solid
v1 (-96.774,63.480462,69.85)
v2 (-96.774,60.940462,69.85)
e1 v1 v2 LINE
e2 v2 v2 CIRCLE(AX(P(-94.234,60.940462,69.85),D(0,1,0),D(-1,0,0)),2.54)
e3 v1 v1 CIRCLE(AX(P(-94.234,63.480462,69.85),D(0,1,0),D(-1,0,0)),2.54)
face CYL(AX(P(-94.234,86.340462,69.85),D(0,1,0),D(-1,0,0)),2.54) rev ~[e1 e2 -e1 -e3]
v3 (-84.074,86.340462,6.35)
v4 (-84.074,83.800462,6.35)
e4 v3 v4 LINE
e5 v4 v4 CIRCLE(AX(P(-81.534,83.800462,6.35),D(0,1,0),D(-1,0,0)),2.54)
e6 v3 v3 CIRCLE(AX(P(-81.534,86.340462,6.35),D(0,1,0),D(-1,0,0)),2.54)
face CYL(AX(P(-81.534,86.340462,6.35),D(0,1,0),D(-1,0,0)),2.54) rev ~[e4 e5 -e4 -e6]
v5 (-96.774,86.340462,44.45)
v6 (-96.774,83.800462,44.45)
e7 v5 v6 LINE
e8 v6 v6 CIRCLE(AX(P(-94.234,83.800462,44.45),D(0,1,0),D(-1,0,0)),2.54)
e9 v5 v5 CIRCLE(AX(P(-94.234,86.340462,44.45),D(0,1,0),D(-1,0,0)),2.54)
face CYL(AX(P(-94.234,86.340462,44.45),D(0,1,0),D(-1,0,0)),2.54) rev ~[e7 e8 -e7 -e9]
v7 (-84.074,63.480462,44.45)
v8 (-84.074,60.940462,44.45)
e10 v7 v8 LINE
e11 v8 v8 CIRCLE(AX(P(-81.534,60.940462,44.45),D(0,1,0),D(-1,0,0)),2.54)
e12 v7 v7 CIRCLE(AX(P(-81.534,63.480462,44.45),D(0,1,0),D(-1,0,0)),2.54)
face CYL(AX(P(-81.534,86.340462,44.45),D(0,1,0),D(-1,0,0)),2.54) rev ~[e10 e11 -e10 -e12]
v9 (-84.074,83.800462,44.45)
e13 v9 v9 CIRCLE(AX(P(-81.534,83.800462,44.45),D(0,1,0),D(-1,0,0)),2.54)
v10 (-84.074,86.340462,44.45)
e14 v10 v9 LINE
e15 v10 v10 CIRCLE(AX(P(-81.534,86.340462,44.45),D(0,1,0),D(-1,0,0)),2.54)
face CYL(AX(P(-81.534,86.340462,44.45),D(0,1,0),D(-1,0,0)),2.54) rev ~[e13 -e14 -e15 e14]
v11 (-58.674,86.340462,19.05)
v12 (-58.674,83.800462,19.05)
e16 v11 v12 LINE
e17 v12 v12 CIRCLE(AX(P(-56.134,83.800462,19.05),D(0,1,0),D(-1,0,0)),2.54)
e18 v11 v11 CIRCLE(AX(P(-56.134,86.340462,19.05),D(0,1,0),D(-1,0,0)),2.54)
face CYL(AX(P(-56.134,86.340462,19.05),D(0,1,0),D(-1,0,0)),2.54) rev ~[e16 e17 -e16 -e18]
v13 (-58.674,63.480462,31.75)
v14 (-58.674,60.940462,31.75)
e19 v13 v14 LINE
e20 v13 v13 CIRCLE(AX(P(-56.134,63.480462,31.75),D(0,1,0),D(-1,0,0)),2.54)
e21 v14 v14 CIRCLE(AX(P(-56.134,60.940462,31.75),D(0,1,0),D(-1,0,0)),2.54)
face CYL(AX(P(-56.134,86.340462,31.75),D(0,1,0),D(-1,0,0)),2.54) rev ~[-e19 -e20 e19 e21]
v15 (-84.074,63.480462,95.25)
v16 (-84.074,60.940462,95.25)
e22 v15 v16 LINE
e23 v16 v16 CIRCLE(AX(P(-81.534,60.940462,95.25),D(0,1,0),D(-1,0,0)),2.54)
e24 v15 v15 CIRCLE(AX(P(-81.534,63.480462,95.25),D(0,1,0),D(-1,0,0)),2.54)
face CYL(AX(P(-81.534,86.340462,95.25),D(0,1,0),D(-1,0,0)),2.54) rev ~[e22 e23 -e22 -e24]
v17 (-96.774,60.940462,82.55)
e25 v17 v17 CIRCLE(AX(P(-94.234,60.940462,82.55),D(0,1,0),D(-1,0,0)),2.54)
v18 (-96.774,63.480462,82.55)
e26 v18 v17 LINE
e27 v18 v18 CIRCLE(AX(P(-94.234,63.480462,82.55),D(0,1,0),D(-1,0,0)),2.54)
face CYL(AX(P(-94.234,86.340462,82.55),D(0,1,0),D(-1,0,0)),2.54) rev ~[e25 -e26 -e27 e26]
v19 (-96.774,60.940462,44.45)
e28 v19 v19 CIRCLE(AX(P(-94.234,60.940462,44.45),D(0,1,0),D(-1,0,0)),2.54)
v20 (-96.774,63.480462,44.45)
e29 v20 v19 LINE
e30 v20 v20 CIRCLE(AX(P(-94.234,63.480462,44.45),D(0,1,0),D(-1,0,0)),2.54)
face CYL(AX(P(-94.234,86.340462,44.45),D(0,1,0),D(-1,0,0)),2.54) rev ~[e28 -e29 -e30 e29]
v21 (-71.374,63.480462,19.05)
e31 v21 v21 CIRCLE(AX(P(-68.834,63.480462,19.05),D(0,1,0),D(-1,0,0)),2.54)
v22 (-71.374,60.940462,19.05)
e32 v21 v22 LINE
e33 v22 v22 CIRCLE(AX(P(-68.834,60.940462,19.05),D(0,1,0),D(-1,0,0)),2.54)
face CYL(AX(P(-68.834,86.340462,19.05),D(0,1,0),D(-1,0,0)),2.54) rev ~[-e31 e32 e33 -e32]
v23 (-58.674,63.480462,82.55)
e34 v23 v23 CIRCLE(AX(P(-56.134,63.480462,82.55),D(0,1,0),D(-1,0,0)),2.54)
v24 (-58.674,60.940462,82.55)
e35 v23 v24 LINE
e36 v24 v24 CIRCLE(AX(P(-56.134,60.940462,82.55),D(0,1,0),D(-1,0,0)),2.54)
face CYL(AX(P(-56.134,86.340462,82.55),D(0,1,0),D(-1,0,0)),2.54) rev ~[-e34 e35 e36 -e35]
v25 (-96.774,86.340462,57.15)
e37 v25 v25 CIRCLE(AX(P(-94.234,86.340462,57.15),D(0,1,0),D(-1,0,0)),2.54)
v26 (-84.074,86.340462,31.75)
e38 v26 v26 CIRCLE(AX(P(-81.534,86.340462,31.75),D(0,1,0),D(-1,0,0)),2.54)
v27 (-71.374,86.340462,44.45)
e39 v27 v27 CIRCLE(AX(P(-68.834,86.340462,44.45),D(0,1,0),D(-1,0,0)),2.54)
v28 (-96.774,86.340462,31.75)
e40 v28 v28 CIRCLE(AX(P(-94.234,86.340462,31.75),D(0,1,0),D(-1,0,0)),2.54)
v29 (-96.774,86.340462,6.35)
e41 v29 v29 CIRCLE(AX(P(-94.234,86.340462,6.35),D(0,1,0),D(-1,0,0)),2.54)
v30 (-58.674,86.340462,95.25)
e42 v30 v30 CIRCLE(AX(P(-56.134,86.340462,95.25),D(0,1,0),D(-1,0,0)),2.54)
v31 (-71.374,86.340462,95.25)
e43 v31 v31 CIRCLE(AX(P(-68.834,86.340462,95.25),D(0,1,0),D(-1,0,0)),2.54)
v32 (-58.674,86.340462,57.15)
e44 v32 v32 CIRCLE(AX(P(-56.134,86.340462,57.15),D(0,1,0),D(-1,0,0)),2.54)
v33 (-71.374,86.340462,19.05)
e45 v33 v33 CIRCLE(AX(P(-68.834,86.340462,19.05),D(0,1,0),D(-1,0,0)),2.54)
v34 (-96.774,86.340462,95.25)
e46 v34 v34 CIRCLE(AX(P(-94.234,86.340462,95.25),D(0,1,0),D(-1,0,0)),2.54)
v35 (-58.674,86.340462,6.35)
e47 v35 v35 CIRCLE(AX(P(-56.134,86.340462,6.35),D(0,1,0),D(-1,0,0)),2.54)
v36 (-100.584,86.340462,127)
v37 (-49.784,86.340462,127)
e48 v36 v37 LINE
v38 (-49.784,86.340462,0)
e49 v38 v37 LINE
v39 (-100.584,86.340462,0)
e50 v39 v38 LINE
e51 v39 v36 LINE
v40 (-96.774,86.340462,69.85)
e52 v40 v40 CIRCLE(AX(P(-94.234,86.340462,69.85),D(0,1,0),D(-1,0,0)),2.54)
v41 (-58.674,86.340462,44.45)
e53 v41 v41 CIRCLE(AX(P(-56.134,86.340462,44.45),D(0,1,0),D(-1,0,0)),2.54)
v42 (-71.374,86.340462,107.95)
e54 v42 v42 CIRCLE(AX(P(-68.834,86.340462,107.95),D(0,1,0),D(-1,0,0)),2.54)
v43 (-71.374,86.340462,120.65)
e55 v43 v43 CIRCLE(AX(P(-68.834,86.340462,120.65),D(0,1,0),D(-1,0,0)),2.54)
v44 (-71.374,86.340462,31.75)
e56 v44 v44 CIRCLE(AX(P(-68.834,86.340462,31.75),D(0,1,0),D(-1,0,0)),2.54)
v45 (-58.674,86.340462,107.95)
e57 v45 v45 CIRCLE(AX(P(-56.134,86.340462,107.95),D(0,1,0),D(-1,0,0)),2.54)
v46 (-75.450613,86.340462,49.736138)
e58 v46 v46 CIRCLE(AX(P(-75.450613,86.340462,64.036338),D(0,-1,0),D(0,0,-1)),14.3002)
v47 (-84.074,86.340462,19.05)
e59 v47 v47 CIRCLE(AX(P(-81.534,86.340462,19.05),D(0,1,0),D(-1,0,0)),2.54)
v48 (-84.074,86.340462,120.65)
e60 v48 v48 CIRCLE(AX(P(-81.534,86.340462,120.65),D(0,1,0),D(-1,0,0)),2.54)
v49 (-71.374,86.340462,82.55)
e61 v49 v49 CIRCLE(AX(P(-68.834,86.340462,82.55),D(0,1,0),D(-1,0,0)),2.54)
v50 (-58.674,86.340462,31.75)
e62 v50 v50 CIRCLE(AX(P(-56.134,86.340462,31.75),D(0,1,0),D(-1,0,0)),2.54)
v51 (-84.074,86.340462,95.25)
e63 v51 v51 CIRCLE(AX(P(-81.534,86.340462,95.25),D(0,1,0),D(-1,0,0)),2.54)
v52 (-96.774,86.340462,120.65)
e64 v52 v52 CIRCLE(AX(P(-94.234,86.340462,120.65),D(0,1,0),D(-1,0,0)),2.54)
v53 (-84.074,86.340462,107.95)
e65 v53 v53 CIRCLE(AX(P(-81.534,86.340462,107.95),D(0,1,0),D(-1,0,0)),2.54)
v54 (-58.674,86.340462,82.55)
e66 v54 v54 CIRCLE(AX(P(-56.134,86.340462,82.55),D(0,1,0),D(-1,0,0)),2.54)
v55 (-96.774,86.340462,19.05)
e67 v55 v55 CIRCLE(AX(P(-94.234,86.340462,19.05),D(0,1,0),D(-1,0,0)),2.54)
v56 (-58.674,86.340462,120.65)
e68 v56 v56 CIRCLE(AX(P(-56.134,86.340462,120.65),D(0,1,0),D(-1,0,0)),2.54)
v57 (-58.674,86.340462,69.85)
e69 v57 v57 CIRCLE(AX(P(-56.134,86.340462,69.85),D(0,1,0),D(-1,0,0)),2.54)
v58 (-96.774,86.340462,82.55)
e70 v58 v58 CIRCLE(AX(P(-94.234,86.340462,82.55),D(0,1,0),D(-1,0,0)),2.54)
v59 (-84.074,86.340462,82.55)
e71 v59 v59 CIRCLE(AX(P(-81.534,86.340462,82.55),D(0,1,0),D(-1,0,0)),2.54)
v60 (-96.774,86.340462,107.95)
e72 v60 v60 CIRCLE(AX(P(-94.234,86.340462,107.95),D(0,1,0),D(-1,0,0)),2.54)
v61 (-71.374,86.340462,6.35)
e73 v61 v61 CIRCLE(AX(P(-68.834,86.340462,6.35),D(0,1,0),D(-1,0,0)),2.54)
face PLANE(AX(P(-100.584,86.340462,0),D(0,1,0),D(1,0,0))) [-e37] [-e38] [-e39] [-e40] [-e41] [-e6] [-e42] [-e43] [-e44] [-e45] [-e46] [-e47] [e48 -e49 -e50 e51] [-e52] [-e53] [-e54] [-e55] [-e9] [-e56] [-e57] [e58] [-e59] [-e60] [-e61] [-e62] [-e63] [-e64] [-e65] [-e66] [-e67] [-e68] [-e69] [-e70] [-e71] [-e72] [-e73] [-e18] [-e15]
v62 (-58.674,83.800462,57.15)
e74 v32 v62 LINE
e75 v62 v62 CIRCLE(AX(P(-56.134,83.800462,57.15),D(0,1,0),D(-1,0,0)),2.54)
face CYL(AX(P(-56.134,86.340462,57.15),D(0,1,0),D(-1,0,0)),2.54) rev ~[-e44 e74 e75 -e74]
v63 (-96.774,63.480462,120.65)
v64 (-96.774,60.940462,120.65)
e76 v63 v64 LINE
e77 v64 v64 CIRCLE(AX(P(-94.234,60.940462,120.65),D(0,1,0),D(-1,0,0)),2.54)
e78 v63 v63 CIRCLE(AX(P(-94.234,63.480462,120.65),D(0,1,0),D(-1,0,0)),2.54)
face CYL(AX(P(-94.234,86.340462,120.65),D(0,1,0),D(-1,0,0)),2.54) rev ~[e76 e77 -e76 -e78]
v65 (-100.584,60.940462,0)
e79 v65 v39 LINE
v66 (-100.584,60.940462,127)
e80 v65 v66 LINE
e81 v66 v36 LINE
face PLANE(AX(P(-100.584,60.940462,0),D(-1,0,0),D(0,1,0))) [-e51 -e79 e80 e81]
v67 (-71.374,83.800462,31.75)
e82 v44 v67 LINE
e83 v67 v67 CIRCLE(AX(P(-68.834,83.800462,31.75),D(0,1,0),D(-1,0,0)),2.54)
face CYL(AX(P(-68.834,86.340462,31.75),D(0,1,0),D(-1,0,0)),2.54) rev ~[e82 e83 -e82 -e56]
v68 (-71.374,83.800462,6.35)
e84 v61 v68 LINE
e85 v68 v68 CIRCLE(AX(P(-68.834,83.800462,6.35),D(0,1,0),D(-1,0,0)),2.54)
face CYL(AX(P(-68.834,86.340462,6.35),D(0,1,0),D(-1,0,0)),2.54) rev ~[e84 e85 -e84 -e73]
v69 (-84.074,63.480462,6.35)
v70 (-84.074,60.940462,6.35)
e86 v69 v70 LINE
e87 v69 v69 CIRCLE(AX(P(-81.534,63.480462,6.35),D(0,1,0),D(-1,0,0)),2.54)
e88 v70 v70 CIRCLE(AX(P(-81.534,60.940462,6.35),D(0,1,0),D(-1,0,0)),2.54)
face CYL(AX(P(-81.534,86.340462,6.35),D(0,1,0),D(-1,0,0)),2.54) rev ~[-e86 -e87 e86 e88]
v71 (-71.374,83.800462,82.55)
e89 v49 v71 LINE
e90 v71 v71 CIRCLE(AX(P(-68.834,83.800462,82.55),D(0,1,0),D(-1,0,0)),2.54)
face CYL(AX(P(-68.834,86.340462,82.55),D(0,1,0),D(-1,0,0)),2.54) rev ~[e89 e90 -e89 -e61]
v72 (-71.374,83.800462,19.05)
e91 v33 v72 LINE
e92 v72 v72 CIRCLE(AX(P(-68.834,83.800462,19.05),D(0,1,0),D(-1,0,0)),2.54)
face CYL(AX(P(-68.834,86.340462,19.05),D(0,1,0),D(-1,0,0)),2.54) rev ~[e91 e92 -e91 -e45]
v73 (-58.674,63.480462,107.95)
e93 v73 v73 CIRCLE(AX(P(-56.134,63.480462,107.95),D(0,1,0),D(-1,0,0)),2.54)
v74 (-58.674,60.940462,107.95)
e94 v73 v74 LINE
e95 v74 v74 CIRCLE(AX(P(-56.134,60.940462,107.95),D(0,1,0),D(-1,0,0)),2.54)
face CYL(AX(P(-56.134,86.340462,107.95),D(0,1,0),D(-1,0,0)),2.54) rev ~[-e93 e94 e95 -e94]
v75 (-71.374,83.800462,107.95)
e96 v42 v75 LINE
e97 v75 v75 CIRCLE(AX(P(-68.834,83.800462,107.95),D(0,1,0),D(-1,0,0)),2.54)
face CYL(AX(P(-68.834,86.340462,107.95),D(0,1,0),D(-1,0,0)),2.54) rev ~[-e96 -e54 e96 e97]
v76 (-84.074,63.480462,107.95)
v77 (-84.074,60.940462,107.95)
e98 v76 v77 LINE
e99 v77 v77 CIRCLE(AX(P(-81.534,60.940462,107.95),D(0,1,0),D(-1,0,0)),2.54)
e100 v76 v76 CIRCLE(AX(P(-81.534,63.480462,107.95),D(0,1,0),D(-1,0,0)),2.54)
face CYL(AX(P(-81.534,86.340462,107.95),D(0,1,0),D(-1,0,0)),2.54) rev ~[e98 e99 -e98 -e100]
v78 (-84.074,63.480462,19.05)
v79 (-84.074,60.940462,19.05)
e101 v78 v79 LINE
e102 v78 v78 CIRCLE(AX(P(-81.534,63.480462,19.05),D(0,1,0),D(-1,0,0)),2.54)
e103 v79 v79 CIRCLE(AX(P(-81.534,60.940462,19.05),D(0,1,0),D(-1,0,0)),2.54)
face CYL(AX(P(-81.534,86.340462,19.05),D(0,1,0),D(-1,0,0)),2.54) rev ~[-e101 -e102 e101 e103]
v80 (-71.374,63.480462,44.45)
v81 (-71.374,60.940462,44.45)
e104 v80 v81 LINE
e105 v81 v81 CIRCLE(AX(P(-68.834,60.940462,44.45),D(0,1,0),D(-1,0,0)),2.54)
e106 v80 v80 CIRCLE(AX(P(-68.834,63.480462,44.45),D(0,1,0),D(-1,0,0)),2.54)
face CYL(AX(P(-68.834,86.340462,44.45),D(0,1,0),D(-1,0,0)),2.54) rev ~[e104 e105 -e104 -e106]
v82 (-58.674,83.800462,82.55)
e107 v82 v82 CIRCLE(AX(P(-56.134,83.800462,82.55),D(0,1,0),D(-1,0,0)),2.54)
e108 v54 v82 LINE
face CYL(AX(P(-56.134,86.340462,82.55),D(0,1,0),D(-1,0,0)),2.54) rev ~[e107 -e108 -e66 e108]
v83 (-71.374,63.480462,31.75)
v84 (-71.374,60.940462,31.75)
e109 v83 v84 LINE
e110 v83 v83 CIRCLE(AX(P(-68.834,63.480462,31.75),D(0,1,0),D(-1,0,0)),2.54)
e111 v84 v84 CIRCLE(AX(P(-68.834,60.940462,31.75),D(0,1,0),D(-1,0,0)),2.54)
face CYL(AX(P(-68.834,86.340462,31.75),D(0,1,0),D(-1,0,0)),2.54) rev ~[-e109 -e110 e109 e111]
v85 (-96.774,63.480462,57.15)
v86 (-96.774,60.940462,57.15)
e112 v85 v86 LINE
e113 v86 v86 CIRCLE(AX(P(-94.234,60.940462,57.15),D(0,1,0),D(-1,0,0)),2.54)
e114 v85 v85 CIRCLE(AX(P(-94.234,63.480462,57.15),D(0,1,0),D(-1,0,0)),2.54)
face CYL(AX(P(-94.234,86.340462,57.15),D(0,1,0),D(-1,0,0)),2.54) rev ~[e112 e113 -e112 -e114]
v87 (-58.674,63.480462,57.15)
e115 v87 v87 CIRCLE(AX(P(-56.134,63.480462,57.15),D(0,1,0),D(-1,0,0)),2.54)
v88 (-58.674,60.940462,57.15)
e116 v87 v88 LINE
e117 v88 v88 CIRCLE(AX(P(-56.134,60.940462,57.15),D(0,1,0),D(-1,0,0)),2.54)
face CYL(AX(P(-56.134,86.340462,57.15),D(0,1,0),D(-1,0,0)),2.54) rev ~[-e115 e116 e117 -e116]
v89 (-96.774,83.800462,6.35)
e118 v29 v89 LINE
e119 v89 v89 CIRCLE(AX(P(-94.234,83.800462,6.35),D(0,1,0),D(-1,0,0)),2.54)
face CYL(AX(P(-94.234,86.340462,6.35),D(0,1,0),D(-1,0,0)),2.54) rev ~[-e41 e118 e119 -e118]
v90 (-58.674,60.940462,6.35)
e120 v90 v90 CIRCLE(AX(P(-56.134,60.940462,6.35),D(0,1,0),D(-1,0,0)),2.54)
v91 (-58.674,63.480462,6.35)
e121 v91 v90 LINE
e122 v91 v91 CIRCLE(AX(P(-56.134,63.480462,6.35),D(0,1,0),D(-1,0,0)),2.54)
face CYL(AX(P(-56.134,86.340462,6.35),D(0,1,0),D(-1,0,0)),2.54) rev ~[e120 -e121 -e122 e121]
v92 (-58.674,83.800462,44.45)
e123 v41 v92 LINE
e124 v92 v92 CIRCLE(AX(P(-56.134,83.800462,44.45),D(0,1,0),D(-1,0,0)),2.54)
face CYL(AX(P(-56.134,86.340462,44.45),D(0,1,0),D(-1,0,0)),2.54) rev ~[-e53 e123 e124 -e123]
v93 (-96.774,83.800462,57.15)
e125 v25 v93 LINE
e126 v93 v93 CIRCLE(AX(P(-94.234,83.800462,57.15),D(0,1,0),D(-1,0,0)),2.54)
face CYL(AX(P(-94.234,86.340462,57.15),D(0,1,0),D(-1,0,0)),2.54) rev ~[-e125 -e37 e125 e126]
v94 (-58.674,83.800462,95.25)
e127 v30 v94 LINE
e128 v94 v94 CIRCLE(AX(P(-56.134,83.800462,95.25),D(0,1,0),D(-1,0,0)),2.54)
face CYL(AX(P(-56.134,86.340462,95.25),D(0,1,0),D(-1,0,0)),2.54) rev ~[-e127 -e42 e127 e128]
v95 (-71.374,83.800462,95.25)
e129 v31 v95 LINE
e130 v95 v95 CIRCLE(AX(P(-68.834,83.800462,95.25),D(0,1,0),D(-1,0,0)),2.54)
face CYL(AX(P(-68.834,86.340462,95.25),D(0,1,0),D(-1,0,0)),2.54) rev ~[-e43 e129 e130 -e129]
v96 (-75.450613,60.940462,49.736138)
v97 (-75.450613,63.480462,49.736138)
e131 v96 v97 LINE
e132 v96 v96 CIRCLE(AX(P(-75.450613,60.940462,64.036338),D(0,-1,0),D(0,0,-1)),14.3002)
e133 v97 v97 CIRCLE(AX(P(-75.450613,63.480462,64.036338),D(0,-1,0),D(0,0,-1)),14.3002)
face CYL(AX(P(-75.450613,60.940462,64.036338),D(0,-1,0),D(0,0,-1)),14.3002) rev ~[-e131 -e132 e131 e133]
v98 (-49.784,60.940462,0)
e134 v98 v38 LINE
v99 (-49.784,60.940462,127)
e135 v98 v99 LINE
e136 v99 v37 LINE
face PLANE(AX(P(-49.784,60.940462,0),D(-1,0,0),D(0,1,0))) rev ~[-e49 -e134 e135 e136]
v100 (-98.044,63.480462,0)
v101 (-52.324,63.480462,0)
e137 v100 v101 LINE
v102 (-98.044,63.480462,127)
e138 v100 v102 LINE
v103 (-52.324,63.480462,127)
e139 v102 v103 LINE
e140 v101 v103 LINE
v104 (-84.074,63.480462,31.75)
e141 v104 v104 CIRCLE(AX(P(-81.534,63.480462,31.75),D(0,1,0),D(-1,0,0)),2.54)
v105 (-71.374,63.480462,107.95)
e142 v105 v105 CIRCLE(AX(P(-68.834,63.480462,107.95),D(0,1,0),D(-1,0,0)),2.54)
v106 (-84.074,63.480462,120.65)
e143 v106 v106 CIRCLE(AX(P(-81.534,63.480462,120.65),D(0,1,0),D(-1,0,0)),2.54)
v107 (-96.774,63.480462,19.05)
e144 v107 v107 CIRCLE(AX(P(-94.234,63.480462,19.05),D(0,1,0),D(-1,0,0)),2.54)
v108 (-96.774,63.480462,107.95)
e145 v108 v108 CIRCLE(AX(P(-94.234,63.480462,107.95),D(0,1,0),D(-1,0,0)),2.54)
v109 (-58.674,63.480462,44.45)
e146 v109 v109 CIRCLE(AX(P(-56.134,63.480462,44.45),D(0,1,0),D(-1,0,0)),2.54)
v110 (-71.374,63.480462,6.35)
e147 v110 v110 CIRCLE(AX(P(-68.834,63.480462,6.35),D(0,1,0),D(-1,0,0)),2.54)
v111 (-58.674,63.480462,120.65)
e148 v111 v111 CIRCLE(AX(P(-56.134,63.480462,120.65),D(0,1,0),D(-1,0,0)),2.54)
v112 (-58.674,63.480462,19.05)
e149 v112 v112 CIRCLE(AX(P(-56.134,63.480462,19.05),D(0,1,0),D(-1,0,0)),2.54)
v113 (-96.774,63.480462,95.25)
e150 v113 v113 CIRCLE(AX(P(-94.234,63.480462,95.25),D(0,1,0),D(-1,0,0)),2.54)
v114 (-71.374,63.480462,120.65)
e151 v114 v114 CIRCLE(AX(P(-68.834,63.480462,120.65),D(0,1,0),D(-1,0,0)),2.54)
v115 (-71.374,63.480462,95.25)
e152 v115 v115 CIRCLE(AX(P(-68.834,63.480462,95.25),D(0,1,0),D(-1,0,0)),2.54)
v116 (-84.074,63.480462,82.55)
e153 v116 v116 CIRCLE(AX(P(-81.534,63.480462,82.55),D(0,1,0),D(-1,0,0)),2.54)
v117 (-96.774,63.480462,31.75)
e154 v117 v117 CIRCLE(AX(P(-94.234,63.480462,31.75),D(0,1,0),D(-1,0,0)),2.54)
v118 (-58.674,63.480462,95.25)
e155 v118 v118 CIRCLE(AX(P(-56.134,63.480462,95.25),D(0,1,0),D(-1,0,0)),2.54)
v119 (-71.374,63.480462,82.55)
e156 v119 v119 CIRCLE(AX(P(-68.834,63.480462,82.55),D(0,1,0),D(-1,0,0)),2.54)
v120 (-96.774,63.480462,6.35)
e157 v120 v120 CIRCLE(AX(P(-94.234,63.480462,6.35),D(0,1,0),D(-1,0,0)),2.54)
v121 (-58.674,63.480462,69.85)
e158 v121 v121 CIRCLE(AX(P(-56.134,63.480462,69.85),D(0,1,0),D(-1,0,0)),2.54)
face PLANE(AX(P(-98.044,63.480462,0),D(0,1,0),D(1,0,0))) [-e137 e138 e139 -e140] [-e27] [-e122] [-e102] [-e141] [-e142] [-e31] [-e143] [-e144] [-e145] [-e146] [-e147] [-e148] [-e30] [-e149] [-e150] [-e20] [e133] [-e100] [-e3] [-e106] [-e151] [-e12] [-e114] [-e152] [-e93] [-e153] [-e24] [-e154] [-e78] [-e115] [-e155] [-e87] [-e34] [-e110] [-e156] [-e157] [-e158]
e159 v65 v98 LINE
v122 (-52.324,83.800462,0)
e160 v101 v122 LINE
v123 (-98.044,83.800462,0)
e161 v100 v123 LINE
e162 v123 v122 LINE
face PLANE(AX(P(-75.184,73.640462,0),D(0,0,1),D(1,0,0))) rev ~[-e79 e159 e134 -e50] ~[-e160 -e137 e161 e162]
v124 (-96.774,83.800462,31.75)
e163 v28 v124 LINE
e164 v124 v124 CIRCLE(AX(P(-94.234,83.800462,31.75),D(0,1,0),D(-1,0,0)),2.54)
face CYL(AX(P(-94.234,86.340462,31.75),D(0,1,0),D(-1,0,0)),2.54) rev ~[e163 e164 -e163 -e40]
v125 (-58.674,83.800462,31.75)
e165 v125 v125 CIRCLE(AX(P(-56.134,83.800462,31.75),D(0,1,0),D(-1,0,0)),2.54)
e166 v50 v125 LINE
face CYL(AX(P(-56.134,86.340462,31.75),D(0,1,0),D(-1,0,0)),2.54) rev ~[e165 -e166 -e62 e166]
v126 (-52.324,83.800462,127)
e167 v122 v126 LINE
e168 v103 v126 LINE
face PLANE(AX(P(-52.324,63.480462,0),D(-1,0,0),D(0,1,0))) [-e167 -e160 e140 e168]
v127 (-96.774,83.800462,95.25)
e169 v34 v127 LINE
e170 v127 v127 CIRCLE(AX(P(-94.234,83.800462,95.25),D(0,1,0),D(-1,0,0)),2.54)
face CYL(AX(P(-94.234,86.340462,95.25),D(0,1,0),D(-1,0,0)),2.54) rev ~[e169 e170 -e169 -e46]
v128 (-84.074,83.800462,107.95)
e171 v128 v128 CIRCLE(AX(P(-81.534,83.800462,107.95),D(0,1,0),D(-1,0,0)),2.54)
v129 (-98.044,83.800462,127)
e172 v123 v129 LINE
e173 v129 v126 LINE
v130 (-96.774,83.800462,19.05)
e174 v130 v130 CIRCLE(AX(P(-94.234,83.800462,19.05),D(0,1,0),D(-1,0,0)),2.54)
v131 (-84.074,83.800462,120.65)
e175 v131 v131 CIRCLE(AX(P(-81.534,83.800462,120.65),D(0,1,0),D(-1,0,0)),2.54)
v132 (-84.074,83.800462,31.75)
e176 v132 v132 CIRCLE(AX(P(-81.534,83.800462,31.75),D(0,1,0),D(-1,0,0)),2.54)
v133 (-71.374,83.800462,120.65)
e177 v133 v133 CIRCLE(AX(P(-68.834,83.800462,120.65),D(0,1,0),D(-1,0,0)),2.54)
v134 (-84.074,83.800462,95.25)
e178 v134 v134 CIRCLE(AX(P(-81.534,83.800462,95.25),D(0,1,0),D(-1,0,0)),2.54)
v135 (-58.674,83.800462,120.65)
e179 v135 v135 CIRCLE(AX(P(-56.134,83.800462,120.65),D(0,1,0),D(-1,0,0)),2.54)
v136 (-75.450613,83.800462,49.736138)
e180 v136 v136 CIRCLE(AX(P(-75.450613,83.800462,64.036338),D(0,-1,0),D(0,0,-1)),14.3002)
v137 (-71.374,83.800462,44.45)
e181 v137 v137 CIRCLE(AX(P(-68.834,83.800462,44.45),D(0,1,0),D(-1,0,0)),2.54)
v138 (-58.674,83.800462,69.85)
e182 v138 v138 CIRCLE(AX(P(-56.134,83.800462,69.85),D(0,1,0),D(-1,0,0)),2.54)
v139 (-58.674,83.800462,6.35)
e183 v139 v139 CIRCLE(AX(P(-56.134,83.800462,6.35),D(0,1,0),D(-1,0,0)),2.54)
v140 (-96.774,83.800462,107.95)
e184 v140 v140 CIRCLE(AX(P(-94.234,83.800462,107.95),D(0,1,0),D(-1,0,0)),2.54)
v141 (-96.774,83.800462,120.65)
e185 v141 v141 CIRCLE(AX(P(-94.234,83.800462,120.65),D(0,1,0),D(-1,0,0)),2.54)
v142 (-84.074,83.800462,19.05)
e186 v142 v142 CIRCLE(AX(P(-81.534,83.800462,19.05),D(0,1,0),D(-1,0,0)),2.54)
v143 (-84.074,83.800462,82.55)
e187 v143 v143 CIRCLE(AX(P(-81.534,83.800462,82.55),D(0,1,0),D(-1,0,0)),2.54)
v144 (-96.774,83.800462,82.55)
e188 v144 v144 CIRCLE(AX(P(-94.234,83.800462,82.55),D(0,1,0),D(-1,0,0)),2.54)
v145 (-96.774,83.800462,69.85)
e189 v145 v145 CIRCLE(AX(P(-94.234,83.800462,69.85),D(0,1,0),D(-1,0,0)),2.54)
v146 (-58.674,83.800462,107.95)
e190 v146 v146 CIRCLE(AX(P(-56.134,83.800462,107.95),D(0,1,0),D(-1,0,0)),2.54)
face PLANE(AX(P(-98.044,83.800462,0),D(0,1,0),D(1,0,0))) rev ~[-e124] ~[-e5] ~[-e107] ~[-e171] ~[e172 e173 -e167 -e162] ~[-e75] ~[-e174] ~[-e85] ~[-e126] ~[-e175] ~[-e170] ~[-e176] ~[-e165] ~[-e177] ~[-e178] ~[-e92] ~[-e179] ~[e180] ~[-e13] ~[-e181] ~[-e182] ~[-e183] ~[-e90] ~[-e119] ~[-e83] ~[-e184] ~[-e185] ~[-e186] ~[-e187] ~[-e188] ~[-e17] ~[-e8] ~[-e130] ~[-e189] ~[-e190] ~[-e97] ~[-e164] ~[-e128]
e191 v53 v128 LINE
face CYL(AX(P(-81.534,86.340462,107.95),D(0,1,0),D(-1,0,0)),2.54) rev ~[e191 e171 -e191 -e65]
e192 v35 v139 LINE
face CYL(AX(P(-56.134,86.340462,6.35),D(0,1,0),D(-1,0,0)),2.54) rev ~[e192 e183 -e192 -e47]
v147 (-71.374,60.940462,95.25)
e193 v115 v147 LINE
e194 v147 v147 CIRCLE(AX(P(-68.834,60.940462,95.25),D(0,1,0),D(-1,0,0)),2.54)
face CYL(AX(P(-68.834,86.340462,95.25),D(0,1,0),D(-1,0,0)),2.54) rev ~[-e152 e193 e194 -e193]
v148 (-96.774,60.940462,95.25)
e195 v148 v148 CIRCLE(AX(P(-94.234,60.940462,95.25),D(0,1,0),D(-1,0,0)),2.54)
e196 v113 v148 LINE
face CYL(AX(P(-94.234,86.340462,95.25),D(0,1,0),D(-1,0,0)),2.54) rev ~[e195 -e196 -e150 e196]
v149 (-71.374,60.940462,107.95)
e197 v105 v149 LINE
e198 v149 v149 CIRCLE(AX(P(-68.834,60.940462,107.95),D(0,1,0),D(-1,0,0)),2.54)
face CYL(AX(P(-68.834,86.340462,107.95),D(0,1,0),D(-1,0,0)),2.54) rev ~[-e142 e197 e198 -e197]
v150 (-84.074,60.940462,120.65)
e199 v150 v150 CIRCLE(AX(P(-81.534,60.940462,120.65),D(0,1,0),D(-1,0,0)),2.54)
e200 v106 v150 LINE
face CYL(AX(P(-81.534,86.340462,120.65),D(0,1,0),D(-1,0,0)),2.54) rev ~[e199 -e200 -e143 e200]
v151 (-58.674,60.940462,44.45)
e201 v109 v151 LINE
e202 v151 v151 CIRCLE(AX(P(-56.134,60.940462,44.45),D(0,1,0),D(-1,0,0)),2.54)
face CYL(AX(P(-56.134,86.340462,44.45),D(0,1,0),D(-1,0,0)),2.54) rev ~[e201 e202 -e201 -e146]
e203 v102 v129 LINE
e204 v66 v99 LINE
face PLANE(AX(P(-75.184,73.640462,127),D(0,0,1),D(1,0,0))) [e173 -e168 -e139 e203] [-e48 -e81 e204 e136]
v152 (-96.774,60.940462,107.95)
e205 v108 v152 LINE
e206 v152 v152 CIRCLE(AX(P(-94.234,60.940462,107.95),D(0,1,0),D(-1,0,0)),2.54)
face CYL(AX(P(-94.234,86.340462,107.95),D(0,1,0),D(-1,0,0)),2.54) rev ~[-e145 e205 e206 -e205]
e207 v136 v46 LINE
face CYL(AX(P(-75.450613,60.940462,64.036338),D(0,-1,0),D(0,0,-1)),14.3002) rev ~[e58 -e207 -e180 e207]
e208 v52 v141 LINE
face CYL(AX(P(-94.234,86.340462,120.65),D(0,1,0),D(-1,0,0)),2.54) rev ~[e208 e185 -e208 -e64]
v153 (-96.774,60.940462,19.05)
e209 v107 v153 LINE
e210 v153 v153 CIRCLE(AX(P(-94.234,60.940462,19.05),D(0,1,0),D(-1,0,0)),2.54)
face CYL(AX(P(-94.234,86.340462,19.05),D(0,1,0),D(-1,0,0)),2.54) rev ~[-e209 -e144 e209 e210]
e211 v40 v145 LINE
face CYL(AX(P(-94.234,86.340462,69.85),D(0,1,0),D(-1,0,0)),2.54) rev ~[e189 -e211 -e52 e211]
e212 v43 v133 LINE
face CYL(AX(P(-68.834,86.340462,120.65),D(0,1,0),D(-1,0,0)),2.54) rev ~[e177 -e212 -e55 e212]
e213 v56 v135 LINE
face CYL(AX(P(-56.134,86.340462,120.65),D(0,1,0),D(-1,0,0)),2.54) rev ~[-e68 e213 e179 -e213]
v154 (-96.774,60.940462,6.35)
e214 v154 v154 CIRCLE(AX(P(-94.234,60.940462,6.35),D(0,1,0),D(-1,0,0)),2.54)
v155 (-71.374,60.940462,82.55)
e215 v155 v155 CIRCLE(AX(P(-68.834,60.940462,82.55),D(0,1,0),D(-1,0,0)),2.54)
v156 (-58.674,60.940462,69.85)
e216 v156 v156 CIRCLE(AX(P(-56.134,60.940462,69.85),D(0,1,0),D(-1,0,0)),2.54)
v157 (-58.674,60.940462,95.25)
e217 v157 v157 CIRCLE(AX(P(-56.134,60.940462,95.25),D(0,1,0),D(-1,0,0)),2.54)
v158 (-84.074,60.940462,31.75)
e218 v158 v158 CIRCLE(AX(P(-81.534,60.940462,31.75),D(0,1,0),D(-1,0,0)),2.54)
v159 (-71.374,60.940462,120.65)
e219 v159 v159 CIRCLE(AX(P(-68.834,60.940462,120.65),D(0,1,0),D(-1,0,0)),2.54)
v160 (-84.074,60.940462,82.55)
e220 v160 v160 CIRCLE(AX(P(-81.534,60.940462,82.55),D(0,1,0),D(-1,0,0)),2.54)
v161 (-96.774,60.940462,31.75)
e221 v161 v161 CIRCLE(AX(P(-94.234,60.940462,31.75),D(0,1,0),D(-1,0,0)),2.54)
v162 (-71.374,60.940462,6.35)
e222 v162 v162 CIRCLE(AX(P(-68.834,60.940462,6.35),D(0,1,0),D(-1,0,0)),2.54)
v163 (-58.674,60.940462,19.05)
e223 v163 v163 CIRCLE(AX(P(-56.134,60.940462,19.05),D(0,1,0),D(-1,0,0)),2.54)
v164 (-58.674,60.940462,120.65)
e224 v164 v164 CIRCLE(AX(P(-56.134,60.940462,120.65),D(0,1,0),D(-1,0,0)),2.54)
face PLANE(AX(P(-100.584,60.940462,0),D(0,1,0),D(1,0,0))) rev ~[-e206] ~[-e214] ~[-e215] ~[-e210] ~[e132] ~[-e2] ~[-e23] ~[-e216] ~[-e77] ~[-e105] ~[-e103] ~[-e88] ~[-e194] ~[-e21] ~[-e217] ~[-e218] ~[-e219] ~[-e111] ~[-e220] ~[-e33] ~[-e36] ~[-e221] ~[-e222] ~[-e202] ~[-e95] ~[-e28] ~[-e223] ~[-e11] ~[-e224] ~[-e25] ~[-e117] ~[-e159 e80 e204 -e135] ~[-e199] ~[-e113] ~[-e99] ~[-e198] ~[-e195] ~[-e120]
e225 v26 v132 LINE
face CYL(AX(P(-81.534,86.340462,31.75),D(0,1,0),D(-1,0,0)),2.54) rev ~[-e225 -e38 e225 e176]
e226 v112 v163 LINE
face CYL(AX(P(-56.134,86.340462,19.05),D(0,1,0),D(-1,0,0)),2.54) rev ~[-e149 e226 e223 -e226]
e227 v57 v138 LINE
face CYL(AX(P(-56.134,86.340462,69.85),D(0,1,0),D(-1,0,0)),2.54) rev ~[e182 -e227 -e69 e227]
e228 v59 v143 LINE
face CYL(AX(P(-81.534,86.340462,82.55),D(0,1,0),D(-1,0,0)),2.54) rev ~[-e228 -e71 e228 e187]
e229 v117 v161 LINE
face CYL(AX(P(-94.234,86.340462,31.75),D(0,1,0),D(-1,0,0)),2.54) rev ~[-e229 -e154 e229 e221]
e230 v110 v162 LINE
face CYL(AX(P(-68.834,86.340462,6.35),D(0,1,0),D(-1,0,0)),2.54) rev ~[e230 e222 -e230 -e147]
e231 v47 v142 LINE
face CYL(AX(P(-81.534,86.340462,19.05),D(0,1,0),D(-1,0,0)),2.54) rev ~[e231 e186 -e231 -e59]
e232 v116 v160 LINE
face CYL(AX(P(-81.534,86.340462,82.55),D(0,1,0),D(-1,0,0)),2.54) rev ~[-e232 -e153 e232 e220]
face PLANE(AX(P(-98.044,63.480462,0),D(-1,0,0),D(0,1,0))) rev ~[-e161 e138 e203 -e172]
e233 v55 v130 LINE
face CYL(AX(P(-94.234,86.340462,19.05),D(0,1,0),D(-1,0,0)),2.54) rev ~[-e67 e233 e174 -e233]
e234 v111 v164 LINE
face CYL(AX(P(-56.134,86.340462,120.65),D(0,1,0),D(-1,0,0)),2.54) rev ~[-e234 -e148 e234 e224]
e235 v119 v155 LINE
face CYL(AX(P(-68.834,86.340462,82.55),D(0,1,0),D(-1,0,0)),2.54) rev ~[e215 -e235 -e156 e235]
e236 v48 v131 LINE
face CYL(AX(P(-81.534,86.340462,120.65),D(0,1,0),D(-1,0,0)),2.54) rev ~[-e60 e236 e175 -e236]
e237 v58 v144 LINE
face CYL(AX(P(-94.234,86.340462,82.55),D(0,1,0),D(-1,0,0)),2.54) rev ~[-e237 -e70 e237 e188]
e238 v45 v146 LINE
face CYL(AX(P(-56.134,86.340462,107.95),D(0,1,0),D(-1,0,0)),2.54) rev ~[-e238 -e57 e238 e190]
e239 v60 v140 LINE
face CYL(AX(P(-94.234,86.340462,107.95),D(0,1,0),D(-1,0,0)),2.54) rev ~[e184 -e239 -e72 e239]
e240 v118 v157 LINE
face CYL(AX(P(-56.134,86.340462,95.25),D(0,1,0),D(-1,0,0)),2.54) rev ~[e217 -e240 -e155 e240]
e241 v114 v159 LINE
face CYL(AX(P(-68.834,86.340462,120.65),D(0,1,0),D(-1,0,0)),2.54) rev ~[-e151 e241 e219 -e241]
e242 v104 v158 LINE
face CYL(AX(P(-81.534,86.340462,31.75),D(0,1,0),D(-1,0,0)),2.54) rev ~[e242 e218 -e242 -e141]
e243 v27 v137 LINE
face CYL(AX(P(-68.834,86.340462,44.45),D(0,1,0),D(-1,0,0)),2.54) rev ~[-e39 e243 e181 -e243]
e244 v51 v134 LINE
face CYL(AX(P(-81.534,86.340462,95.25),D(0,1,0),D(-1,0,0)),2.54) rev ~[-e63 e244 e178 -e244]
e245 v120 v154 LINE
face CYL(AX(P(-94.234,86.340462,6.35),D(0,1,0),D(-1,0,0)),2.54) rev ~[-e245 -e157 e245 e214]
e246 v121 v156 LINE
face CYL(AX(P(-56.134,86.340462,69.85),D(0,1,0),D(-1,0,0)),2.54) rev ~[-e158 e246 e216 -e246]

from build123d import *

# Parameters (mm, degrees)
SKETCH1_W           = 50.8
SKETCH1_H           = 25.4
SKETCH1_W_2         = 45.72
SKETCH1_H_2         = 20.32
BOSS_EXTRUDE1_DEPTH = 127
SKETCH2_R           = 2.54
CUT_EXTRUDE1_DEPTH  = 25.4
SKETCH3_R           = 14.3002
CUT_EXTRUDE2_DEPTH  = 25.4


with BuildPart() as part:
    # Sketch1 → Boss-Extrude1 (new body)
    with BuildSketch(Plane.XY):
        with Locations((-75.184, 73.640461538)):
            Rectangle(SKETCH1_W, SKETCH1_H)
        with Locations((-75.184, 73.640461538)):
            Rectangle(SKETCH1_W_2, SKETCH1_H_2, mode=Mode.SUBTRACT)
    extrude(amount=BOSS_EXTRUDE1_DEPTH)

    # Sketch2 → Cut-Extrude1 (cut)
    with BuildSketch(Plane(origin=(0, 86.340461538, 0), x_dir=(1, 0, 0), z_dir=(0, 1, 0))):
        with Locations(Location((-94.234, -6.35, 0), (0, 0, 180))):
            Circle(SKETCH2_R)
        with Locations(Location((-81.534, -6.35, 0), (0, 0, 180))):
            Circle(SKETCH2_R)
        with Locations(Location((-68.834, -6.35, 0), (0, 0, 180))):
            Circle(SKETCH2_R)
        with Locations(Location((-56.134, -6.35, 0), (0, 0, 180))):
            Circle(SKETCH2_R)
        with Locations(Location((-81.534, -19.05, 0), (0, 0, 180))):
            Circle(SKETCH2_R)
        with Locations(Location((-68.834, -19.05, 0), (0, 0, 180))):
            Circle(SKETCH2_R)
        with Locations(Location((-56.134, -19.05, 0), (0, 0, 180))):
            Circle(SKETCH2_R)
        with Locations(Location((-81.534, -31.75, 0), (0, 0, 180))):
            Circle(SKETCH2_R)
        with Locations(Location((-68.834, -31.75, 0), (0, 0, 180))):
            Circle(SKETCH2_R)
        with Locations(Location((-56.134, -31.75, 0), (0, 0, 180))):
            Circle(SKETCH2_R)
        with Locations(Location((-81.534, -44.45, 0), (0, 0, 180))):
            Circle(SKETCH2_R)
        with Locations(Location((-68.834, -44.45, 0), (0, 0, 180))):
            Circle(SKETCH2_R)
        with Locations(Location((-56.134, -44.45, 0), (0, 0, 180))):
            Circle(SKETCH2_R)
        with Locations(Location((-81.534, -57.15, 0), (0, 0, 180))):
            Circle(SKETCH2_R)
        with Locations(Location((-68.834, -57.15, 0), (0, 0, 180))):
            Circle(SKETCH2_R)
        with Locations(Location((-56.134, -57.15, 0), (0, 0, 180))):
            Circle(SKETCH2_R)
        with Locations(Location((-81.534, -69.85, 0), (0, 0, 180))):
            Circle(SKETCH2_R)
        with Locations(Location((-68.834, -69.85, 0), (0, 0, 180))):
            Circle(SKETCH2_R)
        with Locations(Location((-56.134, -69.85, 0), (0, 0, 180))):
            Circle(SKETCH2_R)
        with Locations(Location((-81.534, -82.55, 0), (0, 0, 180))):
            Circle(SKETCH2_R)
        with Locations(Location((-68.834, -82.55, 0), (0, 0, 180))):
            Circle(SKETCH2_R)
        with Locations(Location((-56.134, -82.55, 0), (0, 0, 180))):
            Circle(SKETCH2_R)
        with Locations(Location((-81.534, -95.25, 0), (0, 0, 180))):
            Circle(SKETCH2_R)
        with Locations(Location((-68.834, -95.25, 0), (0, 0, 180))):
            Circle(SKETCH2_R)
        with Locations(Location((-56.134, -95.25, 0), (0, 0, 180))):
            Circle(SKETCH2_R)
        with Locations(Location((-81.534, -107.95, 0), (0, 0, 180))):
            Circle(SKETCH2_R)
        with Locations(Location((-68.834, -107.95, 0), (0, 0, 180))):
            Circle(SKETCH2_R)
        with Locations(Location((-56.134, -107.95, 0), (0, 0, 180))):
            Circle(SKETCH2_R)
        with Locations(Location((-81.534, -120.65, 0), (0, 0, 180))):
            Circle(SKETCH2_R)
        with Locations(Location((-68.834, -120.65, 0), (0, 0, 180))):
            Circle(SKETCH2_R)
        with Locations(Location((-56.134, -120.65, 0), (0, 0, 180))):
            Circle(SKETCH2_R)
        with Locations(Location((-94.234, -19.05, 0), (0, 0, 180))):
            Circle(SKETCH2_R)
        with Locations(Location((-94.234, -31.75, 0), (0, 0, 180))):
            Circle(SKETCH2_R)
        with Locations(Location((-94.234, -44.45, 0), (0, 0, 180))):
            Circle(SKETCH2_R)
        with Locations(Location((-94.234, -57.15, 0), (0, 0, 180))):
            Circle(SKETCH2_R)
        with Locations(Location((-94.234, -69.85, 0), (0, 0, 180))):
            Circle(SKETCH2_R)
        with Locations(Location((-94.234, -82.55, 0), (0, 0, 180))):
            Circle(SKETCH2_R)
        with Locations(Location((-94.234, -95.25, 0), (0, 0, 180))):
            Circle(SKETCH2_R)
        with Locations(Location((-94.234, -107.95, 0), (0, 0, 180))):
            Circle(SKETCH2_R)
        with Locations(Location((-94.234, -120.65, 0), (0, 0, 180))):
            Circle(SKETCH2_R)
    extrude(amount=-CUT_EXTRUDE1_DEPTH, mode=Mode.SUBTRACT)

    # Sketch3 → Cut-Extrude2 (cut)
    with BuildSketch(Plane.XZ.offset(-60.940461538)):
        with Locations(Location((-75.450612599, 64.036338499, 0), (0, 0, 270))):
            Circle(SKETCH3_R)
    extrude(amount=-CUT_EXTRUDE2_DEPTH, mode=Mode.SUBTRACT)


solid = part.part
